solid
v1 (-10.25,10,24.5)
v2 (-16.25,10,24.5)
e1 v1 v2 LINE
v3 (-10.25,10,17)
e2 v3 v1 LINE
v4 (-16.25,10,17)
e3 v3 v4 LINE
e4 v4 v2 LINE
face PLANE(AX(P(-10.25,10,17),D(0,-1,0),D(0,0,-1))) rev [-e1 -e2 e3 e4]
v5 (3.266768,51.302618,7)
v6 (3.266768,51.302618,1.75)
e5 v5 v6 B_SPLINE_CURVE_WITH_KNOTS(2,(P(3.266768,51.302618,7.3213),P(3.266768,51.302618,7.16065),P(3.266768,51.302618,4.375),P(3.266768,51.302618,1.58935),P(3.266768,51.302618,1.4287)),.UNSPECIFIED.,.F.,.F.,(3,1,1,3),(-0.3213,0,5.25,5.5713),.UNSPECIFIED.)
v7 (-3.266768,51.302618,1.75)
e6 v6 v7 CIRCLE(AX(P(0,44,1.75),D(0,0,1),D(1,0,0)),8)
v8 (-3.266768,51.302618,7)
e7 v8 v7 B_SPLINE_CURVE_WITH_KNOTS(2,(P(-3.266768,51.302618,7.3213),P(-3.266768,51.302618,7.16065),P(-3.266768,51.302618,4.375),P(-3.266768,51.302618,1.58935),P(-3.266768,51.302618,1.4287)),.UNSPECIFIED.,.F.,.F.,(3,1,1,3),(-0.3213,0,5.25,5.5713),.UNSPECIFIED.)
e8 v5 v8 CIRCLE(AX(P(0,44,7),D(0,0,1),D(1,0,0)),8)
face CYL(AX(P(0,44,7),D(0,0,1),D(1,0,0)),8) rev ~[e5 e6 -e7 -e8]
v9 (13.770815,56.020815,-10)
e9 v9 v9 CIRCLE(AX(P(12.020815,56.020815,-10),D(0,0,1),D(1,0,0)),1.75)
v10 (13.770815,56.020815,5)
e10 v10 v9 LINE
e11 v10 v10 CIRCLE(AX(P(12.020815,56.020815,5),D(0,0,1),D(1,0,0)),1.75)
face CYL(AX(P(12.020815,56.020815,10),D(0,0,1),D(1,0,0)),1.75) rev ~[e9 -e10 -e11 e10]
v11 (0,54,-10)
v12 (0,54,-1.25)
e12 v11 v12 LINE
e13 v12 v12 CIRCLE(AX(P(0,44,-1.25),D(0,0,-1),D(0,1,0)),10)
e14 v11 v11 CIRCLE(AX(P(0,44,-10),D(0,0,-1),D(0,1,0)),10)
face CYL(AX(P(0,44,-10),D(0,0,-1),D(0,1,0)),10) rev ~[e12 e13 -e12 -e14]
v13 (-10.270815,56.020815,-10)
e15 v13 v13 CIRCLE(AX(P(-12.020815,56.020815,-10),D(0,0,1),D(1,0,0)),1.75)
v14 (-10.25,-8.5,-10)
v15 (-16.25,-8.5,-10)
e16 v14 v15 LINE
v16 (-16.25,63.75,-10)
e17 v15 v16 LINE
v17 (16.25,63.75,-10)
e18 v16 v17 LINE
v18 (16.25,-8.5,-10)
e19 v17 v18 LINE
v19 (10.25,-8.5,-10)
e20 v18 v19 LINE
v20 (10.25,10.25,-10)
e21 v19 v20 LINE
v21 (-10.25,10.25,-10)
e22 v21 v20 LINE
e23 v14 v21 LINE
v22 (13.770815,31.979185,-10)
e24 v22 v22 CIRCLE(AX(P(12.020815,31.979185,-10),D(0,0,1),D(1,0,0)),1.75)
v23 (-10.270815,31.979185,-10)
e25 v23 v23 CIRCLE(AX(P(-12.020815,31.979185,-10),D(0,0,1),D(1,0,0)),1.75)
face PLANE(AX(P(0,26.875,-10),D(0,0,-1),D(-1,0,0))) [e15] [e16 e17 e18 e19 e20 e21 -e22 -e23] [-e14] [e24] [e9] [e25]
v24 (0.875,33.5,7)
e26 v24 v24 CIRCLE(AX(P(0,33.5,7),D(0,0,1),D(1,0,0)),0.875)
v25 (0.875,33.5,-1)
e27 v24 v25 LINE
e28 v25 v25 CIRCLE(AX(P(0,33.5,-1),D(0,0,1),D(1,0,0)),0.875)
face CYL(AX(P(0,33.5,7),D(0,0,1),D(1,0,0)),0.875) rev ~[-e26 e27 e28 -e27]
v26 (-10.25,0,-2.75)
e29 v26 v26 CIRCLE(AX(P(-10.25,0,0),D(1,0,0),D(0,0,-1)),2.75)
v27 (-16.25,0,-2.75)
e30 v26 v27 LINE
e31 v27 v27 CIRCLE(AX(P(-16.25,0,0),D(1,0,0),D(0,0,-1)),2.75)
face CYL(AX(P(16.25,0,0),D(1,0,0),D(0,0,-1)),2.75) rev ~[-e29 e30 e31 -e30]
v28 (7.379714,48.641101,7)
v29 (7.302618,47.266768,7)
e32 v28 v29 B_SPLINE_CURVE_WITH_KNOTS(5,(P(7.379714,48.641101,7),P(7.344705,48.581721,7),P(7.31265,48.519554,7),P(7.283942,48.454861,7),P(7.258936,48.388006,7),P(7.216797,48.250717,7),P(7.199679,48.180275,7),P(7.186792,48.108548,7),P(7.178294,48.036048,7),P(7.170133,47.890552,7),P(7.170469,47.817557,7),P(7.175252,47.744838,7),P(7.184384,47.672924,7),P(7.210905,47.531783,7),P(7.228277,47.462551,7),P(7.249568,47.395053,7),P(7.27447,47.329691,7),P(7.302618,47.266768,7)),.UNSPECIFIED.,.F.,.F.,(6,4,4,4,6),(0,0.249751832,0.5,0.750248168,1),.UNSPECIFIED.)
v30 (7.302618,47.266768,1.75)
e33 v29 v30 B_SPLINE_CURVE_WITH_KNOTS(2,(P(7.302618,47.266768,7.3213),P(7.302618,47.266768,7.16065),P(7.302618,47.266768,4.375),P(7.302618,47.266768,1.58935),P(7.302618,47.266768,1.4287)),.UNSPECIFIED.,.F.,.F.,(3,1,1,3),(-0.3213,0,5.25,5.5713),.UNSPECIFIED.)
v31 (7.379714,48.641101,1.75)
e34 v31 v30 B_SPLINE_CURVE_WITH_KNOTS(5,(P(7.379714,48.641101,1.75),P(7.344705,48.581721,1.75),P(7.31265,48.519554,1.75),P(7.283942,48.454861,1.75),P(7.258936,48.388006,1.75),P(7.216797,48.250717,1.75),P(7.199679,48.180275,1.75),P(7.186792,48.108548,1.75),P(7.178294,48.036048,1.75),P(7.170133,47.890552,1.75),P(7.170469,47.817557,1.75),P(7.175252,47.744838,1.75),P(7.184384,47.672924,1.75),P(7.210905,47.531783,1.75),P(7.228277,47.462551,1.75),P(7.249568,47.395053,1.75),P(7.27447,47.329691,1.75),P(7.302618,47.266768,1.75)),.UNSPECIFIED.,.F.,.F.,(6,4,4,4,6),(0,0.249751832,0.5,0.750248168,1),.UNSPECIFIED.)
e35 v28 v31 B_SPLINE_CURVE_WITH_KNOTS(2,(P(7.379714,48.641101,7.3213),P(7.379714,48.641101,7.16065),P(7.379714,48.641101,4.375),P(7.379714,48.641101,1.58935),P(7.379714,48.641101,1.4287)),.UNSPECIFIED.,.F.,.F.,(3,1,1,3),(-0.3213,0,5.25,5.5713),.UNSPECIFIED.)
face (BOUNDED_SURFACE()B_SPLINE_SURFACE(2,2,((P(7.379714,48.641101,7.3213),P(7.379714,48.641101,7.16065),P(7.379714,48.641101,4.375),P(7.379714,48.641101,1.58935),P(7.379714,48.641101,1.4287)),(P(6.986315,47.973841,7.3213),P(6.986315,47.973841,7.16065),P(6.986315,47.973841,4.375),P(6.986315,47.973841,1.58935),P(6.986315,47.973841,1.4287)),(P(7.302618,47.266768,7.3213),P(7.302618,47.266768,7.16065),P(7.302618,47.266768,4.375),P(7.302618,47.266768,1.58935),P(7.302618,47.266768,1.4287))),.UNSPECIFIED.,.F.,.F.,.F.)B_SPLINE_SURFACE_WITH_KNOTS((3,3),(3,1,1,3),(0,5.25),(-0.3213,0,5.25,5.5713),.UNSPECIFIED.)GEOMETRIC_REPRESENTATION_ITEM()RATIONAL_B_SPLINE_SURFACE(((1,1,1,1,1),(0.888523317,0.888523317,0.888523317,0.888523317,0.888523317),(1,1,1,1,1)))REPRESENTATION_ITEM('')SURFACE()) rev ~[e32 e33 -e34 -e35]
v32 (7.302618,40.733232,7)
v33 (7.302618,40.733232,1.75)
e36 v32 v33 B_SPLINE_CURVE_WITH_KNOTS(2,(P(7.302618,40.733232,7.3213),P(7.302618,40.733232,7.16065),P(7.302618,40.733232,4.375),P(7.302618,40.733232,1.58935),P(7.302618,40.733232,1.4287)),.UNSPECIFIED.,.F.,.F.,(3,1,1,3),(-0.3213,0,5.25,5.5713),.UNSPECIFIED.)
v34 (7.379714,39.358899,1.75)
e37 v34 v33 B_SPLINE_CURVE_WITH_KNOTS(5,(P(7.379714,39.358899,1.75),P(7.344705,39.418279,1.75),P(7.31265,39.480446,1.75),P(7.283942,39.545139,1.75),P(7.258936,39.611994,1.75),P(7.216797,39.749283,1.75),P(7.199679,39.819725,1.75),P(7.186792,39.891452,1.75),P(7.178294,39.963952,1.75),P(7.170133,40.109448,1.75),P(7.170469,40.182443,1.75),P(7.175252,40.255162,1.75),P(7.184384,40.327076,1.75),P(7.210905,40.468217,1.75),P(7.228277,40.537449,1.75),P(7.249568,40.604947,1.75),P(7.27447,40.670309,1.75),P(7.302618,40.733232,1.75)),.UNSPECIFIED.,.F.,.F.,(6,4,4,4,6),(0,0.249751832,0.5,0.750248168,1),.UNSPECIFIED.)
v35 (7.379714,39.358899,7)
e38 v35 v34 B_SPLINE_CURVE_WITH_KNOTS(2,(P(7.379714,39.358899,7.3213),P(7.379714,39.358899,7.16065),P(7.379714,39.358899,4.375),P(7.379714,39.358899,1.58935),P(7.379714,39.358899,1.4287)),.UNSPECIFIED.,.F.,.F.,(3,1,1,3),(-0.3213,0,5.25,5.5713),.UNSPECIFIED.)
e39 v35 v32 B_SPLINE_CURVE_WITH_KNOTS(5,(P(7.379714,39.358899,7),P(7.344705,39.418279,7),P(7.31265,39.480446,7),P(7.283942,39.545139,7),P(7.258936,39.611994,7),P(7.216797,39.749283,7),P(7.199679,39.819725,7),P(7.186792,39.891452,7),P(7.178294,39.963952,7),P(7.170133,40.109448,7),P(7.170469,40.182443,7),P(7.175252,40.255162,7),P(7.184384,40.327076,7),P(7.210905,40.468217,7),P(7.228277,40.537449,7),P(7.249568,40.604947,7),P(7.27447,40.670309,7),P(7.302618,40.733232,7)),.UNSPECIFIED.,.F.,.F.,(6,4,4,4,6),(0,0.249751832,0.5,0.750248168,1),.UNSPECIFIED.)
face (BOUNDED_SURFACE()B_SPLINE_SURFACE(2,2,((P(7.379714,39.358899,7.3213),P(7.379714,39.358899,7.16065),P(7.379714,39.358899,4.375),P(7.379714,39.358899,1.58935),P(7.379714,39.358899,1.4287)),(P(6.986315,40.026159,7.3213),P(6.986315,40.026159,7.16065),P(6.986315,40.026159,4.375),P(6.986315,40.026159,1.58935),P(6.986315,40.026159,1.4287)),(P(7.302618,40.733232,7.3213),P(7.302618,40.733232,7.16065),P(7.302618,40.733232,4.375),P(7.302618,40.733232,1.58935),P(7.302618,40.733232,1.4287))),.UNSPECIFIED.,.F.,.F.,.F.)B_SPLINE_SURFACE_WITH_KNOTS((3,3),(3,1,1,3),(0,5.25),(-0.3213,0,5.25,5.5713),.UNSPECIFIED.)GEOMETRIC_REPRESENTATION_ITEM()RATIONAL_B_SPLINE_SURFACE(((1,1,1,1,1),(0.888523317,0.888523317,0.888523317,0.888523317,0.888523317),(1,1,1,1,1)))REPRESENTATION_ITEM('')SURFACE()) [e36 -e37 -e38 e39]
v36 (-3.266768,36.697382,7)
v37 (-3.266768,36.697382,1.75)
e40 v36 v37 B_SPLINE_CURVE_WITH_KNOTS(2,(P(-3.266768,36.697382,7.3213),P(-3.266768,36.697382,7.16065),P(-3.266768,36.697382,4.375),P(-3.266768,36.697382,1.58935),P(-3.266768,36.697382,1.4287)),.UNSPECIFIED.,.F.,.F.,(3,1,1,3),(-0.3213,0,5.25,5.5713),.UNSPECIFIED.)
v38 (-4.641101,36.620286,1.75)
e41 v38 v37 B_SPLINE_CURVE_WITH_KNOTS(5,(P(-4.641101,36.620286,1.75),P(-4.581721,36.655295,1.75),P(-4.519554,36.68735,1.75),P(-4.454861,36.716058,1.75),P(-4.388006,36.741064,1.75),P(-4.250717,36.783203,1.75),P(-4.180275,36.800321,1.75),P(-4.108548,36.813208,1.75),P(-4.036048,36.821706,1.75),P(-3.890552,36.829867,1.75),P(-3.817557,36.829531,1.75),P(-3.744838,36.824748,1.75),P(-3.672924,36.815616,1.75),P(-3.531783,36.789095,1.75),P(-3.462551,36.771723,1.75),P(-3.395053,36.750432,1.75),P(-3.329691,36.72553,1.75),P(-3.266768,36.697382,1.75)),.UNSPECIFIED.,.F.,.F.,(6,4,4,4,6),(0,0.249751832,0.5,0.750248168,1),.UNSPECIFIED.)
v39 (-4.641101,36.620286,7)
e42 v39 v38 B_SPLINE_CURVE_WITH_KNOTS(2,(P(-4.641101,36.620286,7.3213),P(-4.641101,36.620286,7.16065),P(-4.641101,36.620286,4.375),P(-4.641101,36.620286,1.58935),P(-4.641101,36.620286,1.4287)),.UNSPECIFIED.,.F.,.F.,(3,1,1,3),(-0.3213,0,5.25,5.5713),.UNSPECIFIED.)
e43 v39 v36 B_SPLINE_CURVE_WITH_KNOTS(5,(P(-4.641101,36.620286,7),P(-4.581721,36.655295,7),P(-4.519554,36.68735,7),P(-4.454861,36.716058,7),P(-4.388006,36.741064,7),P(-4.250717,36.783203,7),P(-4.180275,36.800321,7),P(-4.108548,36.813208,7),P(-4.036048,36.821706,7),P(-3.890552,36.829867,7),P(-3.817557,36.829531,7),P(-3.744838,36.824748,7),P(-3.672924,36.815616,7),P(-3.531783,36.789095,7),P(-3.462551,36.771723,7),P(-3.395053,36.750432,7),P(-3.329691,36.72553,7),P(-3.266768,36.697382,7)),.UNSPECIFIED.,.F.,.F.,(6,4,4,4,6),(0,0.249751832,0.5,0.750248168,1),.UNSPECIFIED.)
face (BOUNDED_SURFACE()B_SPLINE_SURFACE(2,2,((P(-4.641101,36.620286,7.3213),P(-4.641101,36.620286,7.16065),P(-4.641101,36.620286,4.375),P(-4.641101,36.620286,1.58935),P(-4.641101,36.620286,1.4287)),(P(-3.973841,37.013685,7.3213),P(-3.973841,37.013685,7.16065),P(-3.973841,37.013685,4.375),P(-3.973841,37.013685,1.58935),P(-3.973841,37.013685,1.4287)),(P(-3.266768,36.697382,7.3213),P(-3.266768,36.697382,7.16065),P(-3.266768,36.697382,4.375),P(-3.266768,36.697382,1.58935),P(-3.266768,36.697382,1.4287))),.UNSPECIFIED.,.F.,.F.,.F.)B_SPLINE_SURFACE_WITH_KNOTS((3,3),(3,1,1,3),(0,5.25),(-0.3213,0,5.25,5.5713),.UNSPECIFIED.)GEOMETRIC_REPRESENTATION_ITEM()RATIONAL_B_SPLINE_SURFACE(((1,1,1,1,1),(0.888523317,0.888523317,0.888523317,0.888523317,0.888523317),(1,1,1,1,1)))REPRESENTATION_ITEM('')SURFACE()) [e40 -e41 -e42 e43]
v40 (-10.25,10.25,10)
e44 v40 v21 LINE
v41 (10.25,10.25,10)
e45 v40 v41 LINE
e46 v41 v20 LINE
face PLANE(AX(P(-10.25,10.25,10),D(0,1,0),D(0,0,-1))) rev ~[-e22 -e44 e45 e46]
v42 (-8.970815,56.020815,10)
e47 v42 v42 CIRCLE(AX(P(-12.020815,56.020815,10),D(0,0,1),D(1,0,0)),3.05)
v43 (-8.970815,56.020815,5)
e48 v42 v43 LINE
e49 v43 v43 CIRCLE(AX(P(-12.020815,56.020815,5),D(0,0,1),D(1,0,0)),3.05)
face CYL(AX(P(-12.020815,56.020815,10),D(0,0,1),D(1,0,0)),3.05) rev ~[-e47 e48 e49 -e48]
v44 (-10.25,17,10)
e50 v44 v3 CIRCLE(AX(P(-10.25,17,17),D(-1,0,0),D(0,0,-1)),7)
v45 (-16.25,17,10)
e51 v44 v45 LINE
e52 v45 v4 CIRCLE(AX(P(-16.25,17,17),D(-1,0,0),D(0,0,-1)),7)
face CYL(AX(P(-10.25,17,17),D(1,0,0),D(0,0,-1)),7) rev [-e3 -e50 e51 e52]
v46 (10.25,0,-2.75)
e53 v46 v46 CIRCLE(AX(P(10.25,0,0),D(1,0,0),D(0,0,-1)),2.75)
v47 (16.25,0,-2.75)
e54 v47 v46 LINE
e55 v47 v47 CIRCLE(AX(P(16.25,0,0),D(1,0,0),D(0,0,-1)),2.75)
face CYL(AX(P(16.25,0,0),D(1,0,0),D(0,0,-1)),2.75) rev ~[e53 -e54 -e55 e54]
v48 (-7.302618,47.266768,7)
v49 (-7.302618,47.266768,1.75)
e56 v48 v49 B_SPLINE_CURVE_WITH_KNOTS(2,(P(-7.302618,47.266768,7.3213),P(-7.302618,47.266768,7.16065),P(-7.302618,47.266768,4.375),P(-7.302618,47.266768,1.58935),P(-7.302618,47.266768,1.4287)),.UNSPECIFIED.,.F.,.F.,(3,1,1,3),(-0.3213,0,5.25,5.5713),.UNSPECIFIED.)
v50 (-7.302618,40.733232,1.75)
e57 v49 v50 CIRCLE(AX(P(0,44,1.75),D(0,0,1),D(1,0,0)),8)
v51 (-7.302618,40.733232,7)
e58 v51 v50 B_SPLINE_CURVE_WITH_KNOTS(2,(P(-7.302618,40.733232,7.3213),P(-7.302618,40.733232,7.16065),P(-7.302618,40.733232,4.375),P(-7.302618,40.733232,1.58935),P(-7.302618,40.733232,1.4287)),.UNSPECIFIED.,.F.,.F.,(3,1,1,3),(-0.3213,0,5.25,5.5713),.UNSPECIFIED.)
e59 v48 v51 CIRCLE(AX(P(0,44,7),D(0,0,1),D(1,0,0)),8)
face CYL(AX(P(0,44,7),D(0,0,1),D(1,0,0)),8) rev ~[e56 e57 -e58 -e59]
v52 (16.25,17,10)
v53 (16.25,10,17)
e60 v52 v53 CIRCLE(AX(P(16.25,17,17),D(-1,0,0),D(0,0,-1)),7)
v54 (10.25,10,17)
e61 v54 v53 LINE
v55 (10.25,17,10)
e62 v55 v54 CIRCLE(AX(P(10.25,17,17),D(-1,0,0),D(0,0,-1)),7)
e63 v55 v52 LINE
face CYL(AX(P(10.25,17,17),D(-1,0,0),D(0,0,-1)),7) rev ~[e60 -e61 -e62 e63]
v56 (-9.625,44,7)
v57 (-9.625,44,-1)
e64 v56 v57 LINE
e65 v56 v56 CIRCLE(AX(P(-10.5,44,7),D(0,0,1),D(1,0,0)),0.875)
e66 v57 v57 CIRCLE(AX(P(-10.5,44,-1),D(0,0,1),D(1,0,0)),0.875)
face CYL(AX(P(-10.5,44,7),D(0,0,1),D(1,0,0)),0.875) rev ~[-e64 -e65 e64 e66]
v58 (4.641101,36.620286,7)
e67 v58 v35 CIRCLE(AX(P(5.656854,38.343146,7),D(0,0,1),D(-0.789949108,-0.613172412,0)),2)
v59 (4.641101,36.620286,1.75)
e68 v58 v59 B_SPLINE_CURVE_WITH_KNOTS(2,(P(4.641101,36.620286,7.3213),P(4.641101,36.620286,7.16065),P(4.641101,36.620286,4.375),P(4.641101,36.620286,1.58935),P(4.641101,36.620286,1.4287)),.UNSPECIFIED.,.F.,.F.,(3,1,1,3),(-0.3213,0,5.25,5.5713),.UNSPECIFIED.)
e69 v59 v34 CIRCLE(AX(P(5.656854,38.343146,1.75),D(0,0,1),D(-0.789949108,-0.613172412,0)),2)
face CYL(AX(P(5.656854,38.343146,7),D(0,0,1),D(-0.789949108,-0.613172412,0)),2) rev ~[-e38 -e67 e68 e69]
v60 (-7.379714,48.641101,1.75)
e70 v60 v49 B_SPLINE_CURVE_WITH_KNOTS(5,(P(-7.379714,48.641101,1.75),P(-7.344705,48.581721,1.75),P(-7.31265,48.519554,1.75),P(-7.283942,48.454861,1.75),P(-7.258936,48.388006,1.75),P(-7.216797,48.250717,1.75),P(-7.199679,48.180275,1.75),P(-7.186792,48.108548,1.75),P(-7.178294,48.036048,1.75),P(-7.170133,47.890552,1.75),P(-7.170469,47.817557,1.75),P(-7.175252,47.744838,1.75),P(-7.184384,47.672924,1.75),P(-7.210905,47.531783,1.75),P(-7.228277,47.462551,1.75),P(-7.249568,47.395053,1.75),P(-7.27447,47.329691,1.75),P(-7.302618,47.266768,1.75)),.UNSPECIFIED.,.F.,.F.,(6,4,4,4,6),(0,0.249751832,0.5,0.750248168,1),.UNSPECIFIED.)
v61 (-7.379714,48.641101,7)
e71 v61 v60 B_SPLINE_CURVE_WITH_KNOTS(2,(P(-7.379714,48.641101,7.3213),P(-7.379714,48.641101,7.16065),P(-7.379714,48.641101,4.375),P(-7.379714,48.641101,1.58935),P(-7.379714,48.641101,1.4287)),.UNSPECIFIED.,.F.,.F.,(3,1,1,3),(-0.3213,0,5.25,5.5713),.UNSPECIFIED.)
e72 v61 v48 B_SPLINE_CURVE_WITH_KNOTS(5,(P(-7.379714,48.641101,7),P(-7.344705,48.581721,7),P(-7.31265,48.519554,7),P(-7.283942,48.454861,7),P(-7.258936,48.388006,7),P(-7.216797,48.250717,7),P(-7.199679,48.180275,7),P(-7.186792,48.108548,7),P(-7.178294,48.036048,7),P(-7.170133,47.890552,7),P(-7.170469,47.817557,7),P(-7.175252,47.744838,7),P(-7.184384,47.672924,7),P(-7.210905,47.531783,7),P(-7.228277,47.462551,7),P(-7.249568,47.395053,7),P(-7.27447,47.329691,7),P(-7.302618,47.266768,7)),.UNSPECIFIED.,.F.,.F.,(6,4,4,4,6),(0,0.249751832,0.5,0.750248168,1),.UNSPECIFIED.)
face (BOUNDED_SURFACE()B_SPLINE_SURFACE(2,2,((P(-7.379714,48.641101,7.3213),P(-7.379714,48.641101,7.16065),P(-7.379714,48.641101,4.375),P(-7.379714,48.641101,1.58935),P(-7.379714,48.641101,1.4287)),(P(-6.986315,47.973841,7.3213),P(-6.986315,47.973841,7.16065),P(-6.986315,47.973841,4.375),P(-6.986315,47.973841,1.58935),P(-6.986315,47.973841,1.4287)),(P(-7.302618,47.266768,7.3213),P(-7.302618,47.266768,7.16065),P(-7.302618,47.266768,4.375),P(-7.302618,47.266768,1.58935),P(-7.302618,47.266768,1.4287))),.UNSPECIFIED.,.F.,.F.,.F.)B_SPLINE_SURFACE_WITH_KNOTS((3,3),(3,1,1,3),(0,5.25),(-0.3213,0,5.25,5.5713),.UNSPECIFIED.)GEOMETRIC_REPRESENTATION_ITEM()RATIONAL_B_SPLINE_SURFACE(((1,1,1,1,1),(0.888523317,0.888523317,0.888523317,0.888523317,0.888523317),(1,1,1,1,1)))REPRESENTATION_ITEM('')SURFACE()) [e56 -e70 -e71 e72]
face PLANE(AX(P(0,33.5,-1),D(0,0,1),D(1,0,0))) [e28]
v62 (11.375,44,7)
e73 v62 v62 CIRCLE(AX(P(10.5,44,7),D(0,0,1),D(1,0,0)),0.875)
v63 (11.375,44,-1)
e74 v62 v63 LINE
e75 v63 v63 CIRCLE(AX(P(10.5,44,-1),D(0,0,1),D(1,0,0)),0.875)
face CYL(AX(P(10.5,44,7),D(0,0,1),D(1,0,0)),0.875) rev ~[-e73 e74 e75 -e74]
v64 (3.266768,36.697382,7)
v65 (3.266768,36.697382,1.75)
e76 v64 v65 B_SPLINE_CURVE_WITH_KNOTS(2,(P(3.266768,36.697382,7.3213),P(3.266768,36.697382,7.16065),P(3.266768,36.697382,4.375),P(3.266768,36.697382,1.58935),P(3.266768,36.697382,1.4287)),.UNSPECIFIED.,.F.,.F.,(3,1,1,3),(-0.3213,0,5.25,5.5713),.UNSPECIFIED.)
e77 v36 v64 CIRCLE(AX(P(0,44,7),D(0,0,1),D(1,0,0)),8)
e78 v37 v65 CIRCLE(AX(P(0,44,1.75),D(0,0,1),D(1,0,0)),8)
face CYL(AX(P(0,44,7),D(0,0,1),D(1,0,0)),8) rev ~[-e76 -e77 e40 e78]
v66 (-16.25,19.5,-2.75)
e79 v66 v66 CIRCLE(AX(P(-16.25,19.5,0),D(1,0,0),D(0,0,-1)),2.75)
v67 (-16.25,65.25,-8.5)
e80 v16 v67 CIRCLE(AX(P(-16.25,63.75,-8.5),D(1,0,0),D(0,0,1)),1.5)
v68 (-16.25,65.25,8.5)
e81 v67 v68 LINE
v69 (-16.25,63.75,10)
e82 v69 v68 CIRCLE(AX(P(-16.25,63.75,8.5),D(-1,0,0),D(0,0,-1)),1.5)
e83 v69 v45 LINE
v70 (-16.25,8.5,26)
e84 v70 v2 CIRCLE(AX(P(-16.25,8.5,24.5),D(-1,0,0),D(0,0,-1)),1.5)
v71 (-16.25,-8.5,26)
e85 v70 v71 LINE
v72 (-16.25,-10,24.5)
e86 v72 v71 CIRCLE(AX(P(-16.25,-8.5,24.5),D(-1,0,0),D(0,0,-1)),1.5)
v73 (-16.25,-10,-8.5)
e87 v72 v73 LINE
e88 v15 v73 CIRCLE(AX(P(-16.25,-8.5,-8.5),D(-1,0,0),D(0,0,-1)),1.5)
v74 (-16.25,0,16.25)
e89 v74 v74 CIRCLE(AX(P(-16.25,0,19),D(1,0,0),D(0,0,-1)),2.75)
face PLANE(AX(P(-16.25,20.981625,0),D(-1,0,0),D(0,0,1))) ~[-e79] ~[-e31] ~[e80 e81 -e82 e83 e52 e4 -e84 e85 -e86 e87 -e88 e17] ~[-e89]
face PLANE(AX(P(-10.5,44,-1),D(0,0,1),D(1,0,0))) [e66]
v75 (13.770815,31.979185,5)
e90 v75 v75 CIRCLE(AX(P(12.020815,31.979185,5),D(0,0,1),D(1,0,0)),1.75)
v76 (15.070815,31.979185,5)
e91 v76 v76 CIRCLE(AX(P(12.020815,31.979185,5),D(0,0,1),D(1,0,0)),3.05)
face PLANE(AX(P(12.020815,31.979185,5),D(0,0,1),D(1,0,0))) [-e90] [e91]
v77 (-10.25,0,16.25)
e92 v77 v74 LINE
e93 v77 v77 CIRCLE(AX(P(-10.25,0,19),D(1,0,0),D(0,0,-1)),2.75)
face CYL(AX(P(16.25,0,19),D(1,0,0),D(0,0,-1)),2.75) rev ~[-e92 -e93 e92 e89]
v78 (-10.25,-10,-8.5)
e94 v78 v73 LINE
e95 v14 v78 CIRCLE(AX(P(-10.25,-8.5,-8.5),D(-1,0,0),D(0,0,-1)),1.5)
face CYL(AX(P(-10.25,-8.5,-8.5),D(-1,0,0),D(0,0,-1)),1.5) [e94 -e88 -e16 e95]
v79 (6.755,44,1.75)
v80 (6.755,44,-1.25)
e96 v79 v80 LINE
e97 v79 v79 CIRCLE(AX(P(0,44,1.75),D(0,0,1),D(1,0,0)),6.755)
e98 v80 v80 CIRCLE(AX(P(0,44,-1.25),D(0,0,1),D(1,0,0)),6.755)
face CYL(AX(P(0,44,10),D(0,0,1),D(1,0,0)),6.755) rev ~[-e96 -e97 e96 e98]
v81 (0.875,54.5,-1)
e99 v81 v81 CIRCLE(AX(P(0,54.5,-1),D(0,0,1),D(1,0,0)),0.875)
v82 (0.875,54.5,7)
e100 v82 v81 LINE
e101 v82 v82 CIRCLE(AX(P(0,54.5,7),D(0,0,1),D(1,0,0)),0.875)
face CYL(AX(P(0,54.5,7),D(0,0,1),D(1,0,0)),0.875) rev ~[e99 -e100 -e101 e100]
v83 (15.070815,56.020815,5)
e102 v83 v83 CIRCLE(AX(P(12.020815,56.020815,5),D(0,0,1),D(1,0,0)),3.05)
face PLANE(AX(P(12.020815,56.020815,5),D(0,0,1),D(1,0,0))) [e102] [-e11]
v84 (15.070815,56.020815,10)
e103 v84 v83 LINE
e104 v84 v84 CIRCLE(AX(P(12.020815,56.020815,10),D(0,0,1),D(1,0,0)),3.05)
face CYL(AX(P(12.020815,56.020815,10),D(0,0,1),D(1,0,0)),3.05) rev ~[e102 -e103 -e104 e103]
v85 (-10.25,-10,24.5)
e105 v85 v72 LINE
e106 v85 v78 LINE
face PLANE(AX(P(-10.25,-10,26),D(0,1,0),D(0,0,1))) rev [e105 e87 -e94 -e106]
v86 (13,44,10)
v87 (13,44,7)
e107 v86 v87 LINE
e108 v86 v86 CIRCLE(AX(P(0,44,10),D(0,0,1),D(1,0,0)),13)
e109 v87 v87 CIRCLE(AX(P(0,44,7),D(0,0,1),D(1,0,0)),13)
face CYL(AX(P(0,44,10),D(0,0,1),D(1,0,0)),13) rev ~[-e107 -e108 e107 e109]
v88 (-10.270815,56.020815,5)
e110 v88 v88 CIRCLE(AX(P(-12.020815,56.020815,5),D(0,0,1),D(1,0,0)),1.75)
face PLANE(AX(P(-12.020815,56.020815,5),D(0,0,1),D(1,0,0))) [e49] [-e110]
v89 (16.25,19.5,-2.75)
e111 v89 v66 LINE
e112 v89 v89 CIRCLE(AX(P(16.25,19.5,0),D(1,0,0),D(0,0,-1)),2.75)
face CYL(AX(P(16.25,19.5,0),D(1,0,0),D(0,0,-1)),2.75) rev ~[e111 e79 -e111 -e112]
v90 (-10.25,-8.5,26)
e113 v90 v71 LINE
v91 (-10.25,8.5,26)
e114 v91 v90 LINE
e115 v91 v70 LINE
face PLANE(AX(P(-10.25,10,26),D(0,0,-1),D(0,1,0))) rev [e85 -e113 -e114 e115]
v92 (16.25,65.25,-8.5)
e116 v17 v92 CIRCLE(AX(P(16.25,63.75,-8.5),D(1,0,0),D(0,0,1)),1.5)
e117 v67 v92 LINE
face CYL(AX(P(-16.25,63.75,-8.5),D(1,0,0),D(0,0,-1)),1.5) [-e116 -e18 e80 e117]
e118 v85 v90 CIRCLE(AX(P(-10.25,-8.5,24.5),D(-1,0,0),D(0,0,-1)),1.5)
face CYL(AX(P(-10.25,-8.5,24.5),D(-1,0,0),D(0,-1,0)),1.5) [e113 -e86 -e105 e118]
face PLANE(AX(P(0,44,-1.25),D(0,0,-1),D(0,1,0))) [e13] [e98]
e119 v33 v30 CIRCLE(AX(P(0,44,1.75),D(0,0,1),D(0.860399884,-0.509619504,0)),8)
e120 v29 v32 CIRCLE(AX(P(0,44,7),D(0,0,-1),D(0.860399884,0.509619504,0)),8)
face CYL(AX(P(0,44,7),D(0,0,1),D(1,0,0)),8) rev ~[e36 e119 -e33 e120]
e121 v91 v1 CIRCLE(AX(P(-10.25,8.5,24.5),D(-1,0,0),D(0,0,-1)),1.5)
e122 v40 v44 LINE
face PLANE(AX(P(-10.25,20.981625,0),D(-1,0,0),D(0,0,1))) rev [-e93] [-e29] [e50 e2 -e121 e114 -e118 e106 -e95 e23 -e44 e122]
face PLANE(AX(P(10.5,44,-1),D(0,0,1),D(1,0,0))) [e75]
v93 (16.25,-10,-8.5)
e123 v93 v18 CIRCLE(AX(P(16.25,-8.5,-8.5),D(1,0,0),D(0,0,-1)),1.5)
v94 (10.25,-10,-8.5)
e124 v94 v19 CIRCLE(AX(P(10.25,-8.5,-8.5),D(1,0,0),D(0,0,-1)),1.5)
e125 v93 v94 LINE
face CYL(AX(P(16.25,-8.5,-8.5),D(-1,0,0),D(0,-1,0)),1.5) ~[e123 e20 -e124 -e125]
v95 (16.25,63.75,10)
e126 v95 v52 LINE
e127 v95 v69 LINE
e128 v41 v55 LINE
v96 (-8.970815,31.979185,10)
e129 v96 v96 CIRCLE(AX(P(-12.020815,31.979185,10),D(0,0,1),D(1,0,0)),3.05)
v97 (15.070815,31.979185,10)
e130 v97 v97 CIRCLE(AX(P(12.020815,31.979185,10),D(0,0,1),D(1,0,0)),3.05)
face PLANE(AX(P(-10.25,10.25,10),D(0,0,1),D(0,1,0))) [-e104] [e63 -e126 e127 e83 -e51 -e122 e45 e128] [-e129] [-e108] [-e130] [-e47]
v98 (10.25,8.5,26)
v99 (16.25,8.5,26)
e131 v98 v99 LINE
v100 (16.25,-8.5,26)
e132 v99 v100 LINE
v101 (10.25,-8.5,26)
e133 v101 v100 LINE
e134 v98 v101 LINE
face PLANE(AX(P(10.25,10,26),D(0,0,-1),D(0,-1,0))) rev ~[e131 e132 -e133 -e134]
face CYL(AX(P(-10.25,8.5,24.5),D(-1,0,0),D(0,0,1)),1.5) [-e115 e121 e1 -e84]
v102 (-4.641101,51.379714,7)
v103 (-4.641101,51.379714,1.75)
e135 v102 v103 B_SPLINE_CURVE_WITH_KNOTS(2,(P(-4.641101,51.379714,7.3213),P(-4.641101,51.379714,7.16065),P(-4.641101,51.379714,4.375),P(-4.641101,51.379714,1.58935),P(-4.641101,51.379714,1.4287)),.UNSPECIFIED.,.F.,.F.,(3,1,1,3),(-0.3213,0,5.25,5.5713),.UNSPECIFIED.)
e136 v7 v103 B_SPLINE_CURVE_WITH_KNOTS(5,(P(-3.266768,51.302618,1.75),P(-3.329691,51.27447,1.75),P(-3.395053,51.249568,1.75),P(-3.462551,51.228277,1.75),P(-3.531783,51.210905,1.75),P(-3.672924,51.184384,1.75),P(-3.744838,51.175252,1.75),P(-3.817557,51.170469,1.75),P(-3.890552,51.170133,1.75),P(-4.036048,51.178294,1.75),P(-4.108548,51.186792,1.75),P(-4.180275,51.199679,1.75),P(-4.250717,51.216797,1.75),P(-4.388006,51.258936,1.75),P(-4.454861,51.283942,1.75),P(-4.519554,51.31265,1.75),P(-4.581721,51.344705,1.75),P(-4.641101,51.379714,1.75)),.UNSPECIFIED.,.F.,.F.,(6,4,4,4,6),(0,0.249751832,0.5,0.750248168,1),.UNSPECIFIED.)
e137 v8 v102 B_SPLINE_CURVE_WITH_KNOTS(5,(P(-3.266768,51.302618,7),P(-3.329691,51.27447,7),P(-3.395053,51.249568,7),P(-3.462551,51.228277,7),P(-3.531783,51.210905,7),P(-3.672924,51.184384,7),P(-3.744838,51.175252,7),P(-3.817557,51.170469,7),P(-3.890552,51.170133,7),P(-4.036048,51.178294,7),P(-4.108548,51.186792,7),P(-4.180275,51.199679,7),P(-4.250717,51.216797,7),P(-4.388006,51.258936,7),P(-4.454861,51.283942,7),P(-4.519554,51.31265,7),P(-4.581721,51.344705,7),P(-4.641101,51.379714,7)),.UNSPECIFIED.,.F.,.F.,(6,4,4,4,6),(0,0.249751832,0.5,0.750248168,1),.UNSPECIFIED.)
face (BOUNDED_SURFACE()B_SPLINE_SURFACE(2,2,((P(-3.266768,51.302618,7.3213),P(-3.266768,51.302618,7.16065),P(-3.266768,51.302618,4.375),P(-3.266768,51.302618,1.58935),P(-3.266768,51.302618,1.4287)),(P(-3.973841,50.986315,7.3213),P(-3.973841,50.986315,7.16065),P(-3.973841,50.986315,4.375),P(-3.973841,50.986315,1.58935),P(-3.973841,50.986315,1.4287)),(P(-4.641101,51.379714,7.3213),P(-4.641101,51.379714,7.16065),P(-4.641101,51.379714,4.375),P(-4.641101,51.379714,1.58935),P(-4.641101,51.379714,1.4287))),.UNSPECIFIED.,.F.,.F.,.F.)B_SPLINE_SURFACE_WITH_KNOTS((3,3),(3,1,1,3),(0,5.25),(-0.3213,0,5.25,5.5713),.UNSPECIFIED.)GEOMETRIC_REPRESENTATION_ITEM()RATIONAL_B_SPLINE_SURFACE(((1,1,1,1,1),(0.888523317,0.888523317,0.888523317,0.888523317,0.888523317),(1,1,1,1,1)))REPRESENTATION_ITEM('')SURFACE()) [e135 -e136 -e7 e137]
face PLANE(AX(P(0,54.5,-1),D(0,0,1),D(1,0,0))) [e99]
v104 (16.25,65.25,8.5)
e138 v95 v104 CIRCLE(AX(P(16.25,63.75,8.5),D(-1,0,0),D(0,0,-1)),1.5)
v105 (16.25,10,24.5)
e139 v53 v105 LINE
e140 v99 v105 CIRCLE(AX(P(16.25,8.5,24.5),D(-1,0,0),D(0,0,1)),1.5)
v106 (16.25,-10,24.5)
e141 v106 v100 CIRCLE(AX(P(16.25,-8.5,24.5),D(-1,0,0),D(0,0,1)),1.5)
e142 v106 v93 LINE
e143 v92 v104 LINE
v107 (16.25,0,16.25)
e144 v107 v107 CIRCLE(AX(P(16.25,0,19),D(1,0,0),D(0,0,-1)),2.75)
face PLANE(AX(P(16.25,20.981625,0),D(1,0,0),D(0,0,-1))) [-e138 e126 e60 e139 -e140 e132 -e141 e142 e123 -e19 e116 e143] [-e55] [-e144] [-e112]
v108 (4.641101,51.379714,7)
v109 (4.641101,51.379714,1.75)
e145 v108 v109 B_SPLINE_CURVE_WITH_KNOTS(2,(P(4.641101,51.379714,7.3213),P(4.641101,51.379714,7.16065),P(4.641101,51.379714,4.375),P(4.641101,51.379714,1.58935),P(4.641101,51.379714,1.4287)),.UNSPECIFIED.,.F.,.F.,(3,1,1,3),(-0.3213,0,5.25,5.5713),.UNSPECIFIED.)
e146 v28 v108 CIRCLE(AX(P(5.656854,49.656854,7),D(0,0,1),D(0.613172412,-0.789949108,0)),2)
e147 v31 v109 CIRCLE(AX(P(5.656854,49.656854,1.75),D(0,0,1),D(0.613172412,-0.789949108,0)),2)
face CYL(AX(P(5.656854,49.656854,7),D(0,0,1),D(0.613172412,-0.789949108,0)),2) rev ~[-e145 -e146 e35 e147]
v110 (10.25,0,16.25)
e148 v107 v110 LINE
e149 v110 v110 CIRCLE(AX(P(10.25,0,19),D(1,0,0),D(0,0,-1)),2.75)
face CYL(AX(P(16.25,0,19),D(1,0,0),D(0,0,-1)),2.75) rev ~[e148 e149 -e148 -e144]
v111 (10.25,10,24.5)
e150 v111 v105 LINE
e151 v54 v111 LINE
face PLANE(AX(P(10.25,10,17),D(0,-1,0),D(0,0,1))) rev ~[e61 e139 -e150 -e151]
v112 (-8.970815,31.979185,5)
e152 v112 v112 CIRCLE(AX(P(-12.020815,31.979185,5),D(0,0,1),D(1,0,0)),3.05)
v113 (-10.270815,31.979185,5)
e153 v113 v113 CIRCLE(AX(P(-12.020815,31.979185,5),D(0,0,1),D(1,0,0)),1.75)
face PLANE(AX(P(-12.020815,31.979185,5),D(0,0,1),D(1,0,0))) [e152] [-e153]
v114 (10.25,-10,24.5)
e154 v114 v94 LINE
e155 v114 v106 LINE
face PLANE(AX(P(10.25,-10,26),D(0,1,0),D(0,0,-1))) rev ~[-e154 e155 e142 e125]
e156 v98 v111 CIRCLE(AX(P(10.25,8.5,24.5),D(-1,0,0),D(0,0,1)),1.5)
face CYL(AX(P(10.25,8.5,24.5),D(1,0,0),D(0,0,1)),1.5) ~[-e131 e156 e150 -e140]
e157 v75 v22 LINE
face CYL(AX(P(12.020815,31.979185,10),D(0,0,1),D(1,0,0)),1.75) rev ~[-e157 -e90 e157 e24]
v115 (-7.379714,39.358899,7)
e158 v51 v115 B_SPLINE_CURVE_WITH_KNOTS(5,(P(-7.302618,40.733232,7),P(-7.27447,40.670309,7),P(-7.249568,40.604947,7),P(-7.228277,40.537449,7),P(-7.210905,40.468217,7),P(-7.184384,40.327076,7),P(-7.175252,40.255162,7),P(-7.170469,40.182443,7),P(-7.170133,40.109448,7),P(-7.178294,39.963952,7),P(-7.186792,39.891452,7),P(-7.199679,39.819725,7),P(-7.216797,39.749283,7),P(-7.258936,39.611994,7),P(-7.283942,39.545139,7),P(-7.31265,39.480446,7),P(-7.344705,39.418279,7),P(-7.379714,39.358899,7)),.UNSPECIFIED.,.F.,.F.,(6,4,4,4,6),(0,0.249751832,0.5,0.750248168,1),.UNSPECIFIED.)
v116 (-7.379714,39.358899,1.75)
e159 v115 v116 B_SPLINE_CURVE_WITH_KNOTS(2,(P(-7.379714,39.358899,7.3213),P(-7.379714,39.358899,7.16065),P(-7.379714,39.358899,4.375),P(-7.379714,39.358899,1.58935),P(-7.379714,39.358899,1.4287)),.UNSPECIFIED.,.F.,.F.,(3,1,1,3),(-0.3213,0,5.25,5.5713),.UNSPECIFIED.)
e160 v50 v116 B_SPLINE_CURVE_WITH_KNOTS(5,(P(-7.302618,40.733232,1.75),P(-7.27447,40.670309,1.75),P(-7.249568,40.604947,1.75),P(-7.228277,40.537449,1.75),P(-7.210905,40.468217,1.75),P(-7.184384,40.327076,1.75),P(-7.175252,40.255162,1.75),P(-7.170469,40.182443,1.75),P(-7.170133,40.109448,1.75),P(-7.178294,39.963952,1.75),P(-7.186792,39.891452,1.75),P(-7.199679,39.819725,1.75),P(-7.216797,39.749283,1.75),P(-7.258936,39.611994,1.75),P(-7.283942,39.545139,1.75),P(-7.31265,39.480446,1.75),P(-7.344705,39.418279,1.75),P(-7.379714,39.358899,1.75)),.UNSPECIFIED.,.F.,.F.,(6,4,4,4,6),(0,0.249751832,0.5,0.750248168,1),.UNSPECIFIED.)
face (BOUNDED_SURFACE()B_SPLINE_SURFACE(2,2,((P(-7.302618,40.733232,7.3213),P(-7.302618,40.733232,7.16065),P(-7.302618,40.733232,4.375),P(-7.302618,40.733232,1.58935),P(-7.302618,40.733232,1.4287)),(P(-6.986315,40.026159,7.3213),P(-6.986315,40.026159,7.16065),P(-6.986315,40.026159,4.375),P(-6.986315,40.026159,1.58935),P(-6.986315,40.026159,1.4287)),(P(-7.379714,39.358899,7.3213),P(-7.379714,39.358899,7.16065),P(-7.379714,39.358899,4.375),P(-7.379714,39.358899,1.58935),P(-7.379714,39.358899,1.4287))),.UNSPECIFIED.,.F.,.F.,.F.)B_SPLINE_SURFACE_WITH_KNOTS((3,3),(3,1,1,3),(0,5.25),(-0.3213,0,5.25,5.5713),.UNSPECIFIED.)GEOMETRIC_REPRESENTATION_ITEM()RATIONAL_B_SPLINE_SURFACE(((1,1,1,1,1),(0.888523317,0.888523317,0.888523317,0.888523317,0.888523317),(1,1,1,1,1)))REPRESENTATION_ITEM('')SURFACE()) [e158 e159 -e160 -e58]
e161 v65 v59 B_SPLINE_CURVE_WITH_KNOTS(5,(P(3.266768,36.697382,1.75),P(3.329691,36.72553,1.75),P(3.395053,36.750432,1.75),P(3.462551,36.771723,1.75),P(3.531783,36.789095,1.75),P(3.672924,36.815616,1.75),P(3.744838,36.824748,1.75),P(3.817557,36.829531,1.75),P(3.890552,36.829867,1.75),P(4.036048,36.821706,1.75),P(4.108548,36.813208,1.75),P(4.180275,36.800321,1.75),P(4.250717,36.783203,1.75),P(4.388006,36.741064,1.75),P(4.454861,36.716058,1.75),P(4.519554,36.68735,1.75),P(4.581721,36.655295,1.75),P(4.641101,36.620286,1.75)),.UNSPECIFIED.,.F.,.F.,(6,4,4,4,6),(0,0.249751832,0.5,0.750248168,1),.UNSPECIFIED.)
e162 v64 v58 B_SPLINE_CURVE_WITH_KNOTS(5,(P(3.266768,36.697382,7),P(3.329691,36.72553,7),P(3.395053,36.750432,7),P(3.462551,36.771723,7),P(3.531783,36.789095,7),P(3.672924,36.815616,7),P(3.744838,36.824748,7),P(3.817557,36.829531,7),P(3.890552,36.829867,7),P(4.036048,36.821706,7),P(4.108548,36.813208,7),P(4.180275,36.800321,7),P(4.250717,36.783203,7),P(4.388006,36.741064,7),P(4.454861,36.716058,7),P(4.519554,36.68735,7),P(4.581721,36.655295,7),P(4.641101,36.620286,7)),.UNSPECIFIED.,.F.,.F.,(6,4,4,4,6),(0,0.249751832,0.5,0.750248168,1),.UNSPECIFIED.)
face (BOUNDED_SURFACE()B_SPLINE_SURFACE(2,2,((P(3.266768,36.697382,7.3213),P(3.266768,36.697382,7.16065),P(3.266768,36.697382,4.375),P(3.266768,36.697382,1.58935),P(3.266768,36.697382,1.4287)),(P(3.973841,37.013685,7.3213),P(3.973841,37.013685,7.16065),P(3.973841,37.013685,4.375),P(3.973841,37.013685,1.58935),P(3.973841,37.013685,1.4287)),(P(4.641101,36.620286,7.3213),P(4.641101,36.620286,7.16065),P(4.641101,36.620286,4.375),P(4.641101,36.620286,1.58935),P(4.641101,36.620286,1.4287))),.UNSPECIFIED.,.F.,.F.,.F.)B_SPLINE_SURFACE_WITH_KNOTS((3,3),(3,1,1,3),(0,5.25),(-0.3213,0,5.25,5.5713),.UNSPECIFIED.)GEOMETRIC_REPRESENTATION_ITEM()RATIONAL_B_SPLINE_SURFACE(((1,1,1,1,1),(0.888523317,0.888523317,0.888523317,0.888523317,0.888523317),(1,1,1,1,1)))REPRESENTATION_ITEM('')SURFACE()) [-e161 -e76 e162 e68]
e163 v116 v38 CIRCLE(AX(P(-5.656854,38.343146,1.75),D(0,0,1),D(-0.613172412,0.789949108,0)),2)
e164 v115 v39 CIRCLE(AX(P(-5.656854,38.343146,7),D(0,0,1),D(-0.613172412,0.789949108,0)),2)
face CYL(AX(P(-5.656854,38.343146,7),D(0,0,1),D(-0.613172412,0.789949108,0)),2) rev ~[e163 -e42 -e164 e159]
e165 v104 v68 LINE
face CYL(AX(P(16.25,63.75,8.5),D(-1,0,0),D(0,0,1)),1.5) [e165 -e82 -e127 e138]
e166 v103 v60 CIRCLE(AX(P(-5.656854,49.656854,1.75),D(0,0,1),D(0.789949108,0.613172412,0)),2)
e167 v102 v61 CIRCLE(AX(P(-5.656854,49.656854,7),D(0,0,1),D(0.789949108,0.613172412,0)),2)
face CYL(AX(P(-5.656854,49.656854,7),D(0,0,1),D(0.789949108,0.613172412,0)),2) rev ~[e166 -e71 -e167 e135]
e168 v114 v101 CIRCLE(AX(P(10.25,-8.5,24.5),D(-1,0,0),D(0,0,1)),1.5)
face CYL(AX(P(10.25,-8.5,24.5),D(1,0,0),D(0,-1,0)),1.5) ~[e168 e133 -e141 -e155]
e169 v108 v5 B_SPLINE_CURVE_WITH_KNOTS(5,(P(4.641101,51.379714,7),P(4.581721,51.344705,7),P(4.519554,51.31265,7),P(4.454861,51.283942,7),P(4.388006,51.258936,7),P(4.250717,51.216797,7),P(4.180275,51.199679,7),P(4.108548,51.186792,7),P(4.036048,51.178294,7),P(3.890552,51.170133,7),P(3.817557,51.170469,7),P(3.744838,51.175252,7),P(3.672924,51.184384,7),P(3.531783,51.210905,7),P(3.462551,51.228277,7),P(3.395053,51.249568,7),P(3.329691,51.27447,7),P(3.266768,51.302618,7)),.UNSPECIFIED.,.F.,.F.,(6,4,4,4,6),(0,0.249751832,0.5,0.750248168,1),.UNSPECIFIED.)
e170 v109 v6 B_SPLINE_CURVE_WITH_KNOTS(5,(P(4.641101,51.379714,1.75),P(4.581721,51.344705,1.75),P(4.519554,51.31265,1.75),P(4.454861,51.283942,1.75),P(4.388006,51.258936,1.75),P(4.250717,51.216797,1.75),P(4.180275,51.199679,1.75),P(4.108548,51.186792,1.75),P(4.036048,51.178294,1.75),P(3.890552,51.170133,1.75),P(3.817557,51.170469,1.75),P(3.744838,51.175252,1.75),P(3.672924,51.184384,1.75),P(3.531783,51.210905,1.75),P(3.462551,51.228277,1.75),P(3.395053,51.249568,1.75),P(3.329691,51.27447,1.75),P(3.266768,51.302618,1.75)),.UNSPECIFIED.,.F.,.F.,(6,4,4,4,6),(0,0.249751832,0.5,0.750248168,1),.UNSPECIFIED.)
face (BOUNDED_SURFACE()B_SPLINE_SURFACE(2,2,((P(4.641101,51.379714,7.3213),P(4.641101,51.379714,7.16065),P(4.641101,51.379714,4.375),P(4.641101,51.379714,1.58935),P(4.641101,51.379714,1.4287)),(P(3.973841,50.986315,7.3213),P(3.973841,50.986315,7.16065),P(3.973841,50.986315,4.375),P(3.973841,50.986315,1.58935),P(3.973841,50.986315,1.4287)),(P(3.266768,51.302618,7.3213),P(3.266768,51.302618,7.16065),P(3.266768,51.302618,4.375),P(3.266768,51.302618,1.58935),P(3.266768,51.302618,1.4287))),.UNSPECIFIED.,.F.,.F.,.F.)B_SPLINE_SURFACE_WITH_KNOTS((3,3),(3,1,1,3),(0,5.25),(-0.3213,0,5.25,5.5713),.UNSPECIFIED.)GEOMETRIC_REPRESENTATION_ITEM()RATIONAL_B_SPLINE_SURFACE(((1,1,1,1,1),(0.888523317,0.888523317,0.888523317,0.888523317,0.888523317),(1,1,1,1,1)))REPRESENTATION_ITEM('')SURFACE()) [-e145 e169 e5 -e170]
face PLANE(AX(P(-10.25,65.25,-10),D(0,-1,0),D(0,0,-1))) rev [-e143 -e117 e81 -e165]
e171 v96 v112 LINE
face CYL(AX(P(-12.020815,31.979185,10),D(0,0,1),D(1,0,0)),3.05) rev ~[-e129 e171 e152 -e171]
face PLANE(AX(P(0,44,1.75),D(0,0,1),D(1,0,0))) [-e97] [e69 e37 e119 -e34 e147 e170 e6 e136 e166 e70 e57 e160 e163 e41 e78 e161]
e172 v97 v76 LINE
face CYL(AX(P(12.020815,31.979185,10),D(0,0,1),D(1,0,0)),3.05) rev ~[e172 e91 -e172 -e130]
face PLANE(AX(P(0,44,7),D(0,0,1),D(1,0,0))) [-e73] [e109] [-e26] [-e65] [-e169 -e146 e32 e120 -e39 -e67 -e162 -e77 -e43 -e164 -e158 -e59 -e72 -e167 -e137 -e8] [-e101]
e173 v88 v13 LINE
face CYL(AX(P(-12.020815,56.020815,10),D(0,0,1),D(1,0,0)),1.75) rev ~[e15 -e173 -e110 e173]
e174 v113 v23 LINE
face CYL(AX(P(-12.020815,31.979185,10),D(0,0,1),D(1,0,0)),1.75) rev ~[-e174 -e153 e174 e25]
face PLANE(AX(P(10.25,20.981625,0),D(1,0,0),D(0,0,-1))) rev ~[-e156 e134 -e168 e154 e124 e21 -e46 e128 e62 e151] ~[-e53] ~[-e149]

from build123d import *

# Parameters (mm, degrees)
EXTRUDE1_DEPTH      = 10.25
EXTRUDE1_DEPTH_BACK = 10.25
SKETCH1_W           = 20
SKETCH1_H           = 55
EXTRUDE2_DEPTH      = 6
SKETCH4_R           = 2.75
EXTRUDE3_DEPTH      = 78.393878957
SKETCH5_R           = 6.755
EXTRUDE4_DEPTH      = 77.273357078
FILLET2_R           = 1.5
SKETCH_1_W          = 32.5
SKETCH_1_H          = 73.75
CUT_EXTRUDE_1_DEPTH = 77.273357078
FILLET_1_R          = 1.5
SKETCH_2_R          = 13
CUT_EXTRUDE_2_DEPTH = 3
SKETCH_3_R          = 8
SKETCH_3_R_2        = 6.755
CUT_EXTRUDE_3_DEPTH = 5.25
FILLET_2_R          = 1.5
SKETCH_4_R          = 10
CUT_EXTRUDE_4_DEPTH = 8.75
SKETCH_5_R          = 0.875
CUT_EXTRUDE_5_DEPTH = 8
SKETCH_7_R          = 1.75
CUT_EXTRUDE_6_DEPTH = 71.154294238
SKETCH_8_R          = 3.05
CUT_EXTRUDE_7_DEPTH = 5


with BuildPart() as part:
    # Sketch1 → Extrude1 (new, two sides: drawn at the far end of the back side and taken through both)
    with BuildSketch(Plane(origin=(0, 0, 0), x_dir=(0, 0, -1), z_dir=(1, 0, 0)).offset(-EXTRUDE1_DEPTH_BACK)):
        with Locations((0, 37.75)):
            Rectangle(SKETCH1_W, SKETCH1_H)
    extrude(amount=EXTRUDE1_DEPTH + EXTRUDE1_DEPTH_BACK)

    # Sketch2 → Extrude2 (add)
    with BuildSketch(Plane(origin=(10.25, 0, 0), x_dir=(0, 0, -1), z_dir=(1, 0, 0))):
        with BuildLine():
            Line((26, 10), (17, 10))
            ThreePointArc((17, 10), (12.050252532, 12.050252532), (10, 17))
            Line((10, 17), (10, 65.25))
            Line((10, 65.25), (-10, 65.25))
            Line((-10, 65.25), (-10, 17))
            ThreePointArc((-10, 17), (-12.050252532, 12.050252532), (-17, 10))
            Line((-17, 10), (-26, 10))
            Line((-26, 10), (-26, -10))
            Line((-26, -10), (26, -10))
            Line((26, -10), (26, 10))
        make_face()
    extrude2 = extrude(amount=EXTRUDE2_DEPTH)

    # Mirror2: Extrude2 across plane
    add(extrude2.mirror(Plane(origin=(0, 0, 0), x_dir=(0, 0, 1), z_dir=(1, 0, 0))))

    # Sketch4 → Extrude3 (cut, through all)
    with BuildSketch(Plane(origin=(16.25, 0, 0), x_dir=(0, 0, -1), z_dir=(1, 0, 0))):
        Circle(SKETCH4_R)
        with Locations((19, 0)):
            Circle(SKETCH4_R)
        with Locations((-19, 0)):
            Circle(SKETCH4_R)
        with Locations((0, 19.5)):
            Circle(SKETCH4_R)
    extrude(amount=-EXTRUDE3_DEPTH, mode=Mode.SUBTRACT)

    # Sketch5 → Extrude4 (cut, through all)
    with BuildSketch(Plane.XY.offset(10)):
        with Locations((0, 44)):
            Circle(SKETCH5_R)
    extrude(amount=-EXTRUDE4_DEPTH, mode=Mode.SUBTRACT)

    # Fillet2
    fillet2_edges = [part.edges().sort_by_distance(p)[0] for p in [
        (13.25, 10, 26),
        (13.25, -10, 26),
        (13.25, -10, -26),
        (13.25, 10, -26),
        (-13.25, -10, 26),
        (-13.25, 10, 26),
        (-13.25, 10, -26),
        (-13.25, -10, -26),
        (0, 65.25, 10),
        (0, 65.25, -10),
    ]]
    fillet(fillet2_edges, radius=FILLET2_R)

    # Эскиз1 → Вырез-Вытянуть1 (cut, through all)
    with BuildSketch(Plane(origin=(0, 0, -10), x_dir=(-1, 0, 0), z_dir=(0, 0, -1))):
        with Locations((0, 26.875)):
            Rectangle(SKETCH_1_W, SKETCH_1_H)
    extrude(amount=CUT_EXTRUDE_1_DEPTH, mode=Mode.SUBTRACT)

    # Скругление1
    fillet_1_edges = [part.edges().sort_by_distance(p)[0] for p in [
        (-13.25, -10, -10),
        (13.25, -10, -10),
    ]]
    fillet(fillet_1_edges, radius=FILLET_1_R)

    # Эскиз2 → Вырез-Вытянуть2 (cut)
    with BuildSketch(Plane.XY.offset(10)):
        with Locations((0, 44)):
            Circle(SKETCH_2_R)
    extrude(amount=-CUT_EXTRUDE_2_DEPTH, mode=Mode.SUBTRACT)

    # Эскиз3 → Вырез-Вытянуть3 (cut)
    # profile 1 of 5: a face of its own
    with BuildSketch(Plane.XY.offset(7)):
        with Locations((0, 44)):
            Circle(SKETCH_3_R)
        with Locations((0, 44)):
            Circle(SKETCH_3_R_2, mode=Mode.SUBTRACT)
    # profile 2 of 5: a face of its own
    with BuildSketch(Plane.XY.offset(7)):
        with BuildLine():
            ThreePointArc((-6.883199074, 48.076956034), (-5.656854249, 49.656854249), (-4.076956034, 50.883199074))
            ThreePointArc((-4.076956034, 50.883199074), (-7.071067812, 51.071067812), (-6.883199074, 48.076956034))
        make_face()
    # profile 3 of 5: a face of its own
    with BuildSketch(Plane.XY.offset(7)):
        with BuildLine():
            ThreePointArc((4.076956034, 50.883199074), (5.656854249, 49.656854249), (6.883199074, 48.076956034))
            ThreePointArc((6.883199074, 48.076956034), (7.071067812, 51.071067812), (4.076956034, 50.883199074))
        make_face()
    # profile 4 of 5: a face of its own
    with BuildSketch(Plane.XY.offset(7)):
        with BuildLine():
            ThreePointArc((4.076956034, 37.116800926), (7.071067812, 36.928932188), (6.883199074, 39.923043966))
            ThreePointArc((6.883199074, 39.923043966), (5.656854249, 38.343145751), (4.076956034, 37.116800926))
        make_face()
    # profile 5 of 5: a face of its own
    with BuildSketch(Plane.XY.offset(7)):
        with BuildLine():
            ThreePointArc((-6.883199074, 39.923043966), (-7.071067812, 36.928932188), (-4.076956034, 37.116800926))
            ThreePointArc((-4.076956034, 37.116800926), (-5.656854249, 38.343145751), (-6.883199074, 39.923043966))
        make_face()
    extrude(amount=-CUT_EXTRUDE_3_DEPTH, mode=Mode.SUBTRACT)

    # Скругление2
    fillet_2_edges = [part.edges().sort_by_distance(p)[0] for p in [
        (6.883199074, 48.076956034, 4.375),
        (6.883199074, 39.923043966, 4.375),
        (4.076956034, 37.116800926, 4.375),
        (-4.076956034, 37.116800926, 4.375),
        (-6.883199074, 39.923043966, 4.375),
        (-6.883199074, 48.076956034, 4.375),
        (-4.076956034, 50.883199074, 4.375),
        (4.076956034, 50.883199074, 4.375),
    ]]
    fillet(fillet_2_edges, radius=FILLET_2_R)

    # Эскиз4 → Вырез-Вытянуть4 (cut)
    with BuildSketch(Plane(origin=(0, 0, -10), x_dir=(-1, 0, 0), z_dir=(0, 0, -1))):
        with Locations(Location((0, 44, 0), (0, 0, 90))):
            Circle(SKETCH_4_R)
    extrude(amount=-CUT_EXTRUDE_4_DEPTH, mode=Mode.SUBTRACT)

    # Эскиз5 → Вырез-Вытянуть5 (cut)
    with BuildSketch(Plane.XY.offset(7)):
        with Locations((0, 54.5)):
            Circle(SKETCH_5_R)
        with Locations((10.5, 44)):
            Circle(SKETCH_5_R)
        with Locations((0, 33.5)):
            Circle(SKETCH_5_R)
        with Locations((-10.5, 44)):
            Circle(SKETCH_5_R)
    extrude(amount=-CUT_EXTRUDE_5_DEPTH, mode=Mode.SUBTRACT)

    # Эскиз7 → Вырез-Вытянуть6 (cut, through all)
    with BuildSketch(Plane.XY.offset(10)):
        with Locations((-12.02081528, 56.02081528)):
            Circle(SKETCH_7_R)
        with Locations((12.02081528, 56.02081528)):
            Circle(SKETCH_7_R)
        with Locations((12.02081528, 31.97918472)):
            Circle(SKETCH_7_R)
        with Locations((-12.02081528, 31.97918472)):
            Circle(SKETCH_7_R)
    extrude(amount=-CUT_EXTRUDE_6_DEPTH, mode=Mode.SUBTRACT)

    # Эскиз8 → Вырез-Вытянуть7 (cut)
    with BuildSketch(Plane.XY.offset(10)):
        with Locations((-12.02081528, 56.02081528)):
            Circle(SKETCH_8_R)
        with Locations((12.02081528, 56.02081528)):
            Circle(SKETCH_8_R)
        with Locations((12.02081528, 31.97918472)):
            Circle(SKETCH_8_R)
        with Locations((-12.02081528, 31.97918472)):
            Circle(SKETCH_8_R)
    extrude(amount=-CUT_EXTRUDE_7_DEPTH, mode=Mode.SUBTRACT)


solid = part.part
